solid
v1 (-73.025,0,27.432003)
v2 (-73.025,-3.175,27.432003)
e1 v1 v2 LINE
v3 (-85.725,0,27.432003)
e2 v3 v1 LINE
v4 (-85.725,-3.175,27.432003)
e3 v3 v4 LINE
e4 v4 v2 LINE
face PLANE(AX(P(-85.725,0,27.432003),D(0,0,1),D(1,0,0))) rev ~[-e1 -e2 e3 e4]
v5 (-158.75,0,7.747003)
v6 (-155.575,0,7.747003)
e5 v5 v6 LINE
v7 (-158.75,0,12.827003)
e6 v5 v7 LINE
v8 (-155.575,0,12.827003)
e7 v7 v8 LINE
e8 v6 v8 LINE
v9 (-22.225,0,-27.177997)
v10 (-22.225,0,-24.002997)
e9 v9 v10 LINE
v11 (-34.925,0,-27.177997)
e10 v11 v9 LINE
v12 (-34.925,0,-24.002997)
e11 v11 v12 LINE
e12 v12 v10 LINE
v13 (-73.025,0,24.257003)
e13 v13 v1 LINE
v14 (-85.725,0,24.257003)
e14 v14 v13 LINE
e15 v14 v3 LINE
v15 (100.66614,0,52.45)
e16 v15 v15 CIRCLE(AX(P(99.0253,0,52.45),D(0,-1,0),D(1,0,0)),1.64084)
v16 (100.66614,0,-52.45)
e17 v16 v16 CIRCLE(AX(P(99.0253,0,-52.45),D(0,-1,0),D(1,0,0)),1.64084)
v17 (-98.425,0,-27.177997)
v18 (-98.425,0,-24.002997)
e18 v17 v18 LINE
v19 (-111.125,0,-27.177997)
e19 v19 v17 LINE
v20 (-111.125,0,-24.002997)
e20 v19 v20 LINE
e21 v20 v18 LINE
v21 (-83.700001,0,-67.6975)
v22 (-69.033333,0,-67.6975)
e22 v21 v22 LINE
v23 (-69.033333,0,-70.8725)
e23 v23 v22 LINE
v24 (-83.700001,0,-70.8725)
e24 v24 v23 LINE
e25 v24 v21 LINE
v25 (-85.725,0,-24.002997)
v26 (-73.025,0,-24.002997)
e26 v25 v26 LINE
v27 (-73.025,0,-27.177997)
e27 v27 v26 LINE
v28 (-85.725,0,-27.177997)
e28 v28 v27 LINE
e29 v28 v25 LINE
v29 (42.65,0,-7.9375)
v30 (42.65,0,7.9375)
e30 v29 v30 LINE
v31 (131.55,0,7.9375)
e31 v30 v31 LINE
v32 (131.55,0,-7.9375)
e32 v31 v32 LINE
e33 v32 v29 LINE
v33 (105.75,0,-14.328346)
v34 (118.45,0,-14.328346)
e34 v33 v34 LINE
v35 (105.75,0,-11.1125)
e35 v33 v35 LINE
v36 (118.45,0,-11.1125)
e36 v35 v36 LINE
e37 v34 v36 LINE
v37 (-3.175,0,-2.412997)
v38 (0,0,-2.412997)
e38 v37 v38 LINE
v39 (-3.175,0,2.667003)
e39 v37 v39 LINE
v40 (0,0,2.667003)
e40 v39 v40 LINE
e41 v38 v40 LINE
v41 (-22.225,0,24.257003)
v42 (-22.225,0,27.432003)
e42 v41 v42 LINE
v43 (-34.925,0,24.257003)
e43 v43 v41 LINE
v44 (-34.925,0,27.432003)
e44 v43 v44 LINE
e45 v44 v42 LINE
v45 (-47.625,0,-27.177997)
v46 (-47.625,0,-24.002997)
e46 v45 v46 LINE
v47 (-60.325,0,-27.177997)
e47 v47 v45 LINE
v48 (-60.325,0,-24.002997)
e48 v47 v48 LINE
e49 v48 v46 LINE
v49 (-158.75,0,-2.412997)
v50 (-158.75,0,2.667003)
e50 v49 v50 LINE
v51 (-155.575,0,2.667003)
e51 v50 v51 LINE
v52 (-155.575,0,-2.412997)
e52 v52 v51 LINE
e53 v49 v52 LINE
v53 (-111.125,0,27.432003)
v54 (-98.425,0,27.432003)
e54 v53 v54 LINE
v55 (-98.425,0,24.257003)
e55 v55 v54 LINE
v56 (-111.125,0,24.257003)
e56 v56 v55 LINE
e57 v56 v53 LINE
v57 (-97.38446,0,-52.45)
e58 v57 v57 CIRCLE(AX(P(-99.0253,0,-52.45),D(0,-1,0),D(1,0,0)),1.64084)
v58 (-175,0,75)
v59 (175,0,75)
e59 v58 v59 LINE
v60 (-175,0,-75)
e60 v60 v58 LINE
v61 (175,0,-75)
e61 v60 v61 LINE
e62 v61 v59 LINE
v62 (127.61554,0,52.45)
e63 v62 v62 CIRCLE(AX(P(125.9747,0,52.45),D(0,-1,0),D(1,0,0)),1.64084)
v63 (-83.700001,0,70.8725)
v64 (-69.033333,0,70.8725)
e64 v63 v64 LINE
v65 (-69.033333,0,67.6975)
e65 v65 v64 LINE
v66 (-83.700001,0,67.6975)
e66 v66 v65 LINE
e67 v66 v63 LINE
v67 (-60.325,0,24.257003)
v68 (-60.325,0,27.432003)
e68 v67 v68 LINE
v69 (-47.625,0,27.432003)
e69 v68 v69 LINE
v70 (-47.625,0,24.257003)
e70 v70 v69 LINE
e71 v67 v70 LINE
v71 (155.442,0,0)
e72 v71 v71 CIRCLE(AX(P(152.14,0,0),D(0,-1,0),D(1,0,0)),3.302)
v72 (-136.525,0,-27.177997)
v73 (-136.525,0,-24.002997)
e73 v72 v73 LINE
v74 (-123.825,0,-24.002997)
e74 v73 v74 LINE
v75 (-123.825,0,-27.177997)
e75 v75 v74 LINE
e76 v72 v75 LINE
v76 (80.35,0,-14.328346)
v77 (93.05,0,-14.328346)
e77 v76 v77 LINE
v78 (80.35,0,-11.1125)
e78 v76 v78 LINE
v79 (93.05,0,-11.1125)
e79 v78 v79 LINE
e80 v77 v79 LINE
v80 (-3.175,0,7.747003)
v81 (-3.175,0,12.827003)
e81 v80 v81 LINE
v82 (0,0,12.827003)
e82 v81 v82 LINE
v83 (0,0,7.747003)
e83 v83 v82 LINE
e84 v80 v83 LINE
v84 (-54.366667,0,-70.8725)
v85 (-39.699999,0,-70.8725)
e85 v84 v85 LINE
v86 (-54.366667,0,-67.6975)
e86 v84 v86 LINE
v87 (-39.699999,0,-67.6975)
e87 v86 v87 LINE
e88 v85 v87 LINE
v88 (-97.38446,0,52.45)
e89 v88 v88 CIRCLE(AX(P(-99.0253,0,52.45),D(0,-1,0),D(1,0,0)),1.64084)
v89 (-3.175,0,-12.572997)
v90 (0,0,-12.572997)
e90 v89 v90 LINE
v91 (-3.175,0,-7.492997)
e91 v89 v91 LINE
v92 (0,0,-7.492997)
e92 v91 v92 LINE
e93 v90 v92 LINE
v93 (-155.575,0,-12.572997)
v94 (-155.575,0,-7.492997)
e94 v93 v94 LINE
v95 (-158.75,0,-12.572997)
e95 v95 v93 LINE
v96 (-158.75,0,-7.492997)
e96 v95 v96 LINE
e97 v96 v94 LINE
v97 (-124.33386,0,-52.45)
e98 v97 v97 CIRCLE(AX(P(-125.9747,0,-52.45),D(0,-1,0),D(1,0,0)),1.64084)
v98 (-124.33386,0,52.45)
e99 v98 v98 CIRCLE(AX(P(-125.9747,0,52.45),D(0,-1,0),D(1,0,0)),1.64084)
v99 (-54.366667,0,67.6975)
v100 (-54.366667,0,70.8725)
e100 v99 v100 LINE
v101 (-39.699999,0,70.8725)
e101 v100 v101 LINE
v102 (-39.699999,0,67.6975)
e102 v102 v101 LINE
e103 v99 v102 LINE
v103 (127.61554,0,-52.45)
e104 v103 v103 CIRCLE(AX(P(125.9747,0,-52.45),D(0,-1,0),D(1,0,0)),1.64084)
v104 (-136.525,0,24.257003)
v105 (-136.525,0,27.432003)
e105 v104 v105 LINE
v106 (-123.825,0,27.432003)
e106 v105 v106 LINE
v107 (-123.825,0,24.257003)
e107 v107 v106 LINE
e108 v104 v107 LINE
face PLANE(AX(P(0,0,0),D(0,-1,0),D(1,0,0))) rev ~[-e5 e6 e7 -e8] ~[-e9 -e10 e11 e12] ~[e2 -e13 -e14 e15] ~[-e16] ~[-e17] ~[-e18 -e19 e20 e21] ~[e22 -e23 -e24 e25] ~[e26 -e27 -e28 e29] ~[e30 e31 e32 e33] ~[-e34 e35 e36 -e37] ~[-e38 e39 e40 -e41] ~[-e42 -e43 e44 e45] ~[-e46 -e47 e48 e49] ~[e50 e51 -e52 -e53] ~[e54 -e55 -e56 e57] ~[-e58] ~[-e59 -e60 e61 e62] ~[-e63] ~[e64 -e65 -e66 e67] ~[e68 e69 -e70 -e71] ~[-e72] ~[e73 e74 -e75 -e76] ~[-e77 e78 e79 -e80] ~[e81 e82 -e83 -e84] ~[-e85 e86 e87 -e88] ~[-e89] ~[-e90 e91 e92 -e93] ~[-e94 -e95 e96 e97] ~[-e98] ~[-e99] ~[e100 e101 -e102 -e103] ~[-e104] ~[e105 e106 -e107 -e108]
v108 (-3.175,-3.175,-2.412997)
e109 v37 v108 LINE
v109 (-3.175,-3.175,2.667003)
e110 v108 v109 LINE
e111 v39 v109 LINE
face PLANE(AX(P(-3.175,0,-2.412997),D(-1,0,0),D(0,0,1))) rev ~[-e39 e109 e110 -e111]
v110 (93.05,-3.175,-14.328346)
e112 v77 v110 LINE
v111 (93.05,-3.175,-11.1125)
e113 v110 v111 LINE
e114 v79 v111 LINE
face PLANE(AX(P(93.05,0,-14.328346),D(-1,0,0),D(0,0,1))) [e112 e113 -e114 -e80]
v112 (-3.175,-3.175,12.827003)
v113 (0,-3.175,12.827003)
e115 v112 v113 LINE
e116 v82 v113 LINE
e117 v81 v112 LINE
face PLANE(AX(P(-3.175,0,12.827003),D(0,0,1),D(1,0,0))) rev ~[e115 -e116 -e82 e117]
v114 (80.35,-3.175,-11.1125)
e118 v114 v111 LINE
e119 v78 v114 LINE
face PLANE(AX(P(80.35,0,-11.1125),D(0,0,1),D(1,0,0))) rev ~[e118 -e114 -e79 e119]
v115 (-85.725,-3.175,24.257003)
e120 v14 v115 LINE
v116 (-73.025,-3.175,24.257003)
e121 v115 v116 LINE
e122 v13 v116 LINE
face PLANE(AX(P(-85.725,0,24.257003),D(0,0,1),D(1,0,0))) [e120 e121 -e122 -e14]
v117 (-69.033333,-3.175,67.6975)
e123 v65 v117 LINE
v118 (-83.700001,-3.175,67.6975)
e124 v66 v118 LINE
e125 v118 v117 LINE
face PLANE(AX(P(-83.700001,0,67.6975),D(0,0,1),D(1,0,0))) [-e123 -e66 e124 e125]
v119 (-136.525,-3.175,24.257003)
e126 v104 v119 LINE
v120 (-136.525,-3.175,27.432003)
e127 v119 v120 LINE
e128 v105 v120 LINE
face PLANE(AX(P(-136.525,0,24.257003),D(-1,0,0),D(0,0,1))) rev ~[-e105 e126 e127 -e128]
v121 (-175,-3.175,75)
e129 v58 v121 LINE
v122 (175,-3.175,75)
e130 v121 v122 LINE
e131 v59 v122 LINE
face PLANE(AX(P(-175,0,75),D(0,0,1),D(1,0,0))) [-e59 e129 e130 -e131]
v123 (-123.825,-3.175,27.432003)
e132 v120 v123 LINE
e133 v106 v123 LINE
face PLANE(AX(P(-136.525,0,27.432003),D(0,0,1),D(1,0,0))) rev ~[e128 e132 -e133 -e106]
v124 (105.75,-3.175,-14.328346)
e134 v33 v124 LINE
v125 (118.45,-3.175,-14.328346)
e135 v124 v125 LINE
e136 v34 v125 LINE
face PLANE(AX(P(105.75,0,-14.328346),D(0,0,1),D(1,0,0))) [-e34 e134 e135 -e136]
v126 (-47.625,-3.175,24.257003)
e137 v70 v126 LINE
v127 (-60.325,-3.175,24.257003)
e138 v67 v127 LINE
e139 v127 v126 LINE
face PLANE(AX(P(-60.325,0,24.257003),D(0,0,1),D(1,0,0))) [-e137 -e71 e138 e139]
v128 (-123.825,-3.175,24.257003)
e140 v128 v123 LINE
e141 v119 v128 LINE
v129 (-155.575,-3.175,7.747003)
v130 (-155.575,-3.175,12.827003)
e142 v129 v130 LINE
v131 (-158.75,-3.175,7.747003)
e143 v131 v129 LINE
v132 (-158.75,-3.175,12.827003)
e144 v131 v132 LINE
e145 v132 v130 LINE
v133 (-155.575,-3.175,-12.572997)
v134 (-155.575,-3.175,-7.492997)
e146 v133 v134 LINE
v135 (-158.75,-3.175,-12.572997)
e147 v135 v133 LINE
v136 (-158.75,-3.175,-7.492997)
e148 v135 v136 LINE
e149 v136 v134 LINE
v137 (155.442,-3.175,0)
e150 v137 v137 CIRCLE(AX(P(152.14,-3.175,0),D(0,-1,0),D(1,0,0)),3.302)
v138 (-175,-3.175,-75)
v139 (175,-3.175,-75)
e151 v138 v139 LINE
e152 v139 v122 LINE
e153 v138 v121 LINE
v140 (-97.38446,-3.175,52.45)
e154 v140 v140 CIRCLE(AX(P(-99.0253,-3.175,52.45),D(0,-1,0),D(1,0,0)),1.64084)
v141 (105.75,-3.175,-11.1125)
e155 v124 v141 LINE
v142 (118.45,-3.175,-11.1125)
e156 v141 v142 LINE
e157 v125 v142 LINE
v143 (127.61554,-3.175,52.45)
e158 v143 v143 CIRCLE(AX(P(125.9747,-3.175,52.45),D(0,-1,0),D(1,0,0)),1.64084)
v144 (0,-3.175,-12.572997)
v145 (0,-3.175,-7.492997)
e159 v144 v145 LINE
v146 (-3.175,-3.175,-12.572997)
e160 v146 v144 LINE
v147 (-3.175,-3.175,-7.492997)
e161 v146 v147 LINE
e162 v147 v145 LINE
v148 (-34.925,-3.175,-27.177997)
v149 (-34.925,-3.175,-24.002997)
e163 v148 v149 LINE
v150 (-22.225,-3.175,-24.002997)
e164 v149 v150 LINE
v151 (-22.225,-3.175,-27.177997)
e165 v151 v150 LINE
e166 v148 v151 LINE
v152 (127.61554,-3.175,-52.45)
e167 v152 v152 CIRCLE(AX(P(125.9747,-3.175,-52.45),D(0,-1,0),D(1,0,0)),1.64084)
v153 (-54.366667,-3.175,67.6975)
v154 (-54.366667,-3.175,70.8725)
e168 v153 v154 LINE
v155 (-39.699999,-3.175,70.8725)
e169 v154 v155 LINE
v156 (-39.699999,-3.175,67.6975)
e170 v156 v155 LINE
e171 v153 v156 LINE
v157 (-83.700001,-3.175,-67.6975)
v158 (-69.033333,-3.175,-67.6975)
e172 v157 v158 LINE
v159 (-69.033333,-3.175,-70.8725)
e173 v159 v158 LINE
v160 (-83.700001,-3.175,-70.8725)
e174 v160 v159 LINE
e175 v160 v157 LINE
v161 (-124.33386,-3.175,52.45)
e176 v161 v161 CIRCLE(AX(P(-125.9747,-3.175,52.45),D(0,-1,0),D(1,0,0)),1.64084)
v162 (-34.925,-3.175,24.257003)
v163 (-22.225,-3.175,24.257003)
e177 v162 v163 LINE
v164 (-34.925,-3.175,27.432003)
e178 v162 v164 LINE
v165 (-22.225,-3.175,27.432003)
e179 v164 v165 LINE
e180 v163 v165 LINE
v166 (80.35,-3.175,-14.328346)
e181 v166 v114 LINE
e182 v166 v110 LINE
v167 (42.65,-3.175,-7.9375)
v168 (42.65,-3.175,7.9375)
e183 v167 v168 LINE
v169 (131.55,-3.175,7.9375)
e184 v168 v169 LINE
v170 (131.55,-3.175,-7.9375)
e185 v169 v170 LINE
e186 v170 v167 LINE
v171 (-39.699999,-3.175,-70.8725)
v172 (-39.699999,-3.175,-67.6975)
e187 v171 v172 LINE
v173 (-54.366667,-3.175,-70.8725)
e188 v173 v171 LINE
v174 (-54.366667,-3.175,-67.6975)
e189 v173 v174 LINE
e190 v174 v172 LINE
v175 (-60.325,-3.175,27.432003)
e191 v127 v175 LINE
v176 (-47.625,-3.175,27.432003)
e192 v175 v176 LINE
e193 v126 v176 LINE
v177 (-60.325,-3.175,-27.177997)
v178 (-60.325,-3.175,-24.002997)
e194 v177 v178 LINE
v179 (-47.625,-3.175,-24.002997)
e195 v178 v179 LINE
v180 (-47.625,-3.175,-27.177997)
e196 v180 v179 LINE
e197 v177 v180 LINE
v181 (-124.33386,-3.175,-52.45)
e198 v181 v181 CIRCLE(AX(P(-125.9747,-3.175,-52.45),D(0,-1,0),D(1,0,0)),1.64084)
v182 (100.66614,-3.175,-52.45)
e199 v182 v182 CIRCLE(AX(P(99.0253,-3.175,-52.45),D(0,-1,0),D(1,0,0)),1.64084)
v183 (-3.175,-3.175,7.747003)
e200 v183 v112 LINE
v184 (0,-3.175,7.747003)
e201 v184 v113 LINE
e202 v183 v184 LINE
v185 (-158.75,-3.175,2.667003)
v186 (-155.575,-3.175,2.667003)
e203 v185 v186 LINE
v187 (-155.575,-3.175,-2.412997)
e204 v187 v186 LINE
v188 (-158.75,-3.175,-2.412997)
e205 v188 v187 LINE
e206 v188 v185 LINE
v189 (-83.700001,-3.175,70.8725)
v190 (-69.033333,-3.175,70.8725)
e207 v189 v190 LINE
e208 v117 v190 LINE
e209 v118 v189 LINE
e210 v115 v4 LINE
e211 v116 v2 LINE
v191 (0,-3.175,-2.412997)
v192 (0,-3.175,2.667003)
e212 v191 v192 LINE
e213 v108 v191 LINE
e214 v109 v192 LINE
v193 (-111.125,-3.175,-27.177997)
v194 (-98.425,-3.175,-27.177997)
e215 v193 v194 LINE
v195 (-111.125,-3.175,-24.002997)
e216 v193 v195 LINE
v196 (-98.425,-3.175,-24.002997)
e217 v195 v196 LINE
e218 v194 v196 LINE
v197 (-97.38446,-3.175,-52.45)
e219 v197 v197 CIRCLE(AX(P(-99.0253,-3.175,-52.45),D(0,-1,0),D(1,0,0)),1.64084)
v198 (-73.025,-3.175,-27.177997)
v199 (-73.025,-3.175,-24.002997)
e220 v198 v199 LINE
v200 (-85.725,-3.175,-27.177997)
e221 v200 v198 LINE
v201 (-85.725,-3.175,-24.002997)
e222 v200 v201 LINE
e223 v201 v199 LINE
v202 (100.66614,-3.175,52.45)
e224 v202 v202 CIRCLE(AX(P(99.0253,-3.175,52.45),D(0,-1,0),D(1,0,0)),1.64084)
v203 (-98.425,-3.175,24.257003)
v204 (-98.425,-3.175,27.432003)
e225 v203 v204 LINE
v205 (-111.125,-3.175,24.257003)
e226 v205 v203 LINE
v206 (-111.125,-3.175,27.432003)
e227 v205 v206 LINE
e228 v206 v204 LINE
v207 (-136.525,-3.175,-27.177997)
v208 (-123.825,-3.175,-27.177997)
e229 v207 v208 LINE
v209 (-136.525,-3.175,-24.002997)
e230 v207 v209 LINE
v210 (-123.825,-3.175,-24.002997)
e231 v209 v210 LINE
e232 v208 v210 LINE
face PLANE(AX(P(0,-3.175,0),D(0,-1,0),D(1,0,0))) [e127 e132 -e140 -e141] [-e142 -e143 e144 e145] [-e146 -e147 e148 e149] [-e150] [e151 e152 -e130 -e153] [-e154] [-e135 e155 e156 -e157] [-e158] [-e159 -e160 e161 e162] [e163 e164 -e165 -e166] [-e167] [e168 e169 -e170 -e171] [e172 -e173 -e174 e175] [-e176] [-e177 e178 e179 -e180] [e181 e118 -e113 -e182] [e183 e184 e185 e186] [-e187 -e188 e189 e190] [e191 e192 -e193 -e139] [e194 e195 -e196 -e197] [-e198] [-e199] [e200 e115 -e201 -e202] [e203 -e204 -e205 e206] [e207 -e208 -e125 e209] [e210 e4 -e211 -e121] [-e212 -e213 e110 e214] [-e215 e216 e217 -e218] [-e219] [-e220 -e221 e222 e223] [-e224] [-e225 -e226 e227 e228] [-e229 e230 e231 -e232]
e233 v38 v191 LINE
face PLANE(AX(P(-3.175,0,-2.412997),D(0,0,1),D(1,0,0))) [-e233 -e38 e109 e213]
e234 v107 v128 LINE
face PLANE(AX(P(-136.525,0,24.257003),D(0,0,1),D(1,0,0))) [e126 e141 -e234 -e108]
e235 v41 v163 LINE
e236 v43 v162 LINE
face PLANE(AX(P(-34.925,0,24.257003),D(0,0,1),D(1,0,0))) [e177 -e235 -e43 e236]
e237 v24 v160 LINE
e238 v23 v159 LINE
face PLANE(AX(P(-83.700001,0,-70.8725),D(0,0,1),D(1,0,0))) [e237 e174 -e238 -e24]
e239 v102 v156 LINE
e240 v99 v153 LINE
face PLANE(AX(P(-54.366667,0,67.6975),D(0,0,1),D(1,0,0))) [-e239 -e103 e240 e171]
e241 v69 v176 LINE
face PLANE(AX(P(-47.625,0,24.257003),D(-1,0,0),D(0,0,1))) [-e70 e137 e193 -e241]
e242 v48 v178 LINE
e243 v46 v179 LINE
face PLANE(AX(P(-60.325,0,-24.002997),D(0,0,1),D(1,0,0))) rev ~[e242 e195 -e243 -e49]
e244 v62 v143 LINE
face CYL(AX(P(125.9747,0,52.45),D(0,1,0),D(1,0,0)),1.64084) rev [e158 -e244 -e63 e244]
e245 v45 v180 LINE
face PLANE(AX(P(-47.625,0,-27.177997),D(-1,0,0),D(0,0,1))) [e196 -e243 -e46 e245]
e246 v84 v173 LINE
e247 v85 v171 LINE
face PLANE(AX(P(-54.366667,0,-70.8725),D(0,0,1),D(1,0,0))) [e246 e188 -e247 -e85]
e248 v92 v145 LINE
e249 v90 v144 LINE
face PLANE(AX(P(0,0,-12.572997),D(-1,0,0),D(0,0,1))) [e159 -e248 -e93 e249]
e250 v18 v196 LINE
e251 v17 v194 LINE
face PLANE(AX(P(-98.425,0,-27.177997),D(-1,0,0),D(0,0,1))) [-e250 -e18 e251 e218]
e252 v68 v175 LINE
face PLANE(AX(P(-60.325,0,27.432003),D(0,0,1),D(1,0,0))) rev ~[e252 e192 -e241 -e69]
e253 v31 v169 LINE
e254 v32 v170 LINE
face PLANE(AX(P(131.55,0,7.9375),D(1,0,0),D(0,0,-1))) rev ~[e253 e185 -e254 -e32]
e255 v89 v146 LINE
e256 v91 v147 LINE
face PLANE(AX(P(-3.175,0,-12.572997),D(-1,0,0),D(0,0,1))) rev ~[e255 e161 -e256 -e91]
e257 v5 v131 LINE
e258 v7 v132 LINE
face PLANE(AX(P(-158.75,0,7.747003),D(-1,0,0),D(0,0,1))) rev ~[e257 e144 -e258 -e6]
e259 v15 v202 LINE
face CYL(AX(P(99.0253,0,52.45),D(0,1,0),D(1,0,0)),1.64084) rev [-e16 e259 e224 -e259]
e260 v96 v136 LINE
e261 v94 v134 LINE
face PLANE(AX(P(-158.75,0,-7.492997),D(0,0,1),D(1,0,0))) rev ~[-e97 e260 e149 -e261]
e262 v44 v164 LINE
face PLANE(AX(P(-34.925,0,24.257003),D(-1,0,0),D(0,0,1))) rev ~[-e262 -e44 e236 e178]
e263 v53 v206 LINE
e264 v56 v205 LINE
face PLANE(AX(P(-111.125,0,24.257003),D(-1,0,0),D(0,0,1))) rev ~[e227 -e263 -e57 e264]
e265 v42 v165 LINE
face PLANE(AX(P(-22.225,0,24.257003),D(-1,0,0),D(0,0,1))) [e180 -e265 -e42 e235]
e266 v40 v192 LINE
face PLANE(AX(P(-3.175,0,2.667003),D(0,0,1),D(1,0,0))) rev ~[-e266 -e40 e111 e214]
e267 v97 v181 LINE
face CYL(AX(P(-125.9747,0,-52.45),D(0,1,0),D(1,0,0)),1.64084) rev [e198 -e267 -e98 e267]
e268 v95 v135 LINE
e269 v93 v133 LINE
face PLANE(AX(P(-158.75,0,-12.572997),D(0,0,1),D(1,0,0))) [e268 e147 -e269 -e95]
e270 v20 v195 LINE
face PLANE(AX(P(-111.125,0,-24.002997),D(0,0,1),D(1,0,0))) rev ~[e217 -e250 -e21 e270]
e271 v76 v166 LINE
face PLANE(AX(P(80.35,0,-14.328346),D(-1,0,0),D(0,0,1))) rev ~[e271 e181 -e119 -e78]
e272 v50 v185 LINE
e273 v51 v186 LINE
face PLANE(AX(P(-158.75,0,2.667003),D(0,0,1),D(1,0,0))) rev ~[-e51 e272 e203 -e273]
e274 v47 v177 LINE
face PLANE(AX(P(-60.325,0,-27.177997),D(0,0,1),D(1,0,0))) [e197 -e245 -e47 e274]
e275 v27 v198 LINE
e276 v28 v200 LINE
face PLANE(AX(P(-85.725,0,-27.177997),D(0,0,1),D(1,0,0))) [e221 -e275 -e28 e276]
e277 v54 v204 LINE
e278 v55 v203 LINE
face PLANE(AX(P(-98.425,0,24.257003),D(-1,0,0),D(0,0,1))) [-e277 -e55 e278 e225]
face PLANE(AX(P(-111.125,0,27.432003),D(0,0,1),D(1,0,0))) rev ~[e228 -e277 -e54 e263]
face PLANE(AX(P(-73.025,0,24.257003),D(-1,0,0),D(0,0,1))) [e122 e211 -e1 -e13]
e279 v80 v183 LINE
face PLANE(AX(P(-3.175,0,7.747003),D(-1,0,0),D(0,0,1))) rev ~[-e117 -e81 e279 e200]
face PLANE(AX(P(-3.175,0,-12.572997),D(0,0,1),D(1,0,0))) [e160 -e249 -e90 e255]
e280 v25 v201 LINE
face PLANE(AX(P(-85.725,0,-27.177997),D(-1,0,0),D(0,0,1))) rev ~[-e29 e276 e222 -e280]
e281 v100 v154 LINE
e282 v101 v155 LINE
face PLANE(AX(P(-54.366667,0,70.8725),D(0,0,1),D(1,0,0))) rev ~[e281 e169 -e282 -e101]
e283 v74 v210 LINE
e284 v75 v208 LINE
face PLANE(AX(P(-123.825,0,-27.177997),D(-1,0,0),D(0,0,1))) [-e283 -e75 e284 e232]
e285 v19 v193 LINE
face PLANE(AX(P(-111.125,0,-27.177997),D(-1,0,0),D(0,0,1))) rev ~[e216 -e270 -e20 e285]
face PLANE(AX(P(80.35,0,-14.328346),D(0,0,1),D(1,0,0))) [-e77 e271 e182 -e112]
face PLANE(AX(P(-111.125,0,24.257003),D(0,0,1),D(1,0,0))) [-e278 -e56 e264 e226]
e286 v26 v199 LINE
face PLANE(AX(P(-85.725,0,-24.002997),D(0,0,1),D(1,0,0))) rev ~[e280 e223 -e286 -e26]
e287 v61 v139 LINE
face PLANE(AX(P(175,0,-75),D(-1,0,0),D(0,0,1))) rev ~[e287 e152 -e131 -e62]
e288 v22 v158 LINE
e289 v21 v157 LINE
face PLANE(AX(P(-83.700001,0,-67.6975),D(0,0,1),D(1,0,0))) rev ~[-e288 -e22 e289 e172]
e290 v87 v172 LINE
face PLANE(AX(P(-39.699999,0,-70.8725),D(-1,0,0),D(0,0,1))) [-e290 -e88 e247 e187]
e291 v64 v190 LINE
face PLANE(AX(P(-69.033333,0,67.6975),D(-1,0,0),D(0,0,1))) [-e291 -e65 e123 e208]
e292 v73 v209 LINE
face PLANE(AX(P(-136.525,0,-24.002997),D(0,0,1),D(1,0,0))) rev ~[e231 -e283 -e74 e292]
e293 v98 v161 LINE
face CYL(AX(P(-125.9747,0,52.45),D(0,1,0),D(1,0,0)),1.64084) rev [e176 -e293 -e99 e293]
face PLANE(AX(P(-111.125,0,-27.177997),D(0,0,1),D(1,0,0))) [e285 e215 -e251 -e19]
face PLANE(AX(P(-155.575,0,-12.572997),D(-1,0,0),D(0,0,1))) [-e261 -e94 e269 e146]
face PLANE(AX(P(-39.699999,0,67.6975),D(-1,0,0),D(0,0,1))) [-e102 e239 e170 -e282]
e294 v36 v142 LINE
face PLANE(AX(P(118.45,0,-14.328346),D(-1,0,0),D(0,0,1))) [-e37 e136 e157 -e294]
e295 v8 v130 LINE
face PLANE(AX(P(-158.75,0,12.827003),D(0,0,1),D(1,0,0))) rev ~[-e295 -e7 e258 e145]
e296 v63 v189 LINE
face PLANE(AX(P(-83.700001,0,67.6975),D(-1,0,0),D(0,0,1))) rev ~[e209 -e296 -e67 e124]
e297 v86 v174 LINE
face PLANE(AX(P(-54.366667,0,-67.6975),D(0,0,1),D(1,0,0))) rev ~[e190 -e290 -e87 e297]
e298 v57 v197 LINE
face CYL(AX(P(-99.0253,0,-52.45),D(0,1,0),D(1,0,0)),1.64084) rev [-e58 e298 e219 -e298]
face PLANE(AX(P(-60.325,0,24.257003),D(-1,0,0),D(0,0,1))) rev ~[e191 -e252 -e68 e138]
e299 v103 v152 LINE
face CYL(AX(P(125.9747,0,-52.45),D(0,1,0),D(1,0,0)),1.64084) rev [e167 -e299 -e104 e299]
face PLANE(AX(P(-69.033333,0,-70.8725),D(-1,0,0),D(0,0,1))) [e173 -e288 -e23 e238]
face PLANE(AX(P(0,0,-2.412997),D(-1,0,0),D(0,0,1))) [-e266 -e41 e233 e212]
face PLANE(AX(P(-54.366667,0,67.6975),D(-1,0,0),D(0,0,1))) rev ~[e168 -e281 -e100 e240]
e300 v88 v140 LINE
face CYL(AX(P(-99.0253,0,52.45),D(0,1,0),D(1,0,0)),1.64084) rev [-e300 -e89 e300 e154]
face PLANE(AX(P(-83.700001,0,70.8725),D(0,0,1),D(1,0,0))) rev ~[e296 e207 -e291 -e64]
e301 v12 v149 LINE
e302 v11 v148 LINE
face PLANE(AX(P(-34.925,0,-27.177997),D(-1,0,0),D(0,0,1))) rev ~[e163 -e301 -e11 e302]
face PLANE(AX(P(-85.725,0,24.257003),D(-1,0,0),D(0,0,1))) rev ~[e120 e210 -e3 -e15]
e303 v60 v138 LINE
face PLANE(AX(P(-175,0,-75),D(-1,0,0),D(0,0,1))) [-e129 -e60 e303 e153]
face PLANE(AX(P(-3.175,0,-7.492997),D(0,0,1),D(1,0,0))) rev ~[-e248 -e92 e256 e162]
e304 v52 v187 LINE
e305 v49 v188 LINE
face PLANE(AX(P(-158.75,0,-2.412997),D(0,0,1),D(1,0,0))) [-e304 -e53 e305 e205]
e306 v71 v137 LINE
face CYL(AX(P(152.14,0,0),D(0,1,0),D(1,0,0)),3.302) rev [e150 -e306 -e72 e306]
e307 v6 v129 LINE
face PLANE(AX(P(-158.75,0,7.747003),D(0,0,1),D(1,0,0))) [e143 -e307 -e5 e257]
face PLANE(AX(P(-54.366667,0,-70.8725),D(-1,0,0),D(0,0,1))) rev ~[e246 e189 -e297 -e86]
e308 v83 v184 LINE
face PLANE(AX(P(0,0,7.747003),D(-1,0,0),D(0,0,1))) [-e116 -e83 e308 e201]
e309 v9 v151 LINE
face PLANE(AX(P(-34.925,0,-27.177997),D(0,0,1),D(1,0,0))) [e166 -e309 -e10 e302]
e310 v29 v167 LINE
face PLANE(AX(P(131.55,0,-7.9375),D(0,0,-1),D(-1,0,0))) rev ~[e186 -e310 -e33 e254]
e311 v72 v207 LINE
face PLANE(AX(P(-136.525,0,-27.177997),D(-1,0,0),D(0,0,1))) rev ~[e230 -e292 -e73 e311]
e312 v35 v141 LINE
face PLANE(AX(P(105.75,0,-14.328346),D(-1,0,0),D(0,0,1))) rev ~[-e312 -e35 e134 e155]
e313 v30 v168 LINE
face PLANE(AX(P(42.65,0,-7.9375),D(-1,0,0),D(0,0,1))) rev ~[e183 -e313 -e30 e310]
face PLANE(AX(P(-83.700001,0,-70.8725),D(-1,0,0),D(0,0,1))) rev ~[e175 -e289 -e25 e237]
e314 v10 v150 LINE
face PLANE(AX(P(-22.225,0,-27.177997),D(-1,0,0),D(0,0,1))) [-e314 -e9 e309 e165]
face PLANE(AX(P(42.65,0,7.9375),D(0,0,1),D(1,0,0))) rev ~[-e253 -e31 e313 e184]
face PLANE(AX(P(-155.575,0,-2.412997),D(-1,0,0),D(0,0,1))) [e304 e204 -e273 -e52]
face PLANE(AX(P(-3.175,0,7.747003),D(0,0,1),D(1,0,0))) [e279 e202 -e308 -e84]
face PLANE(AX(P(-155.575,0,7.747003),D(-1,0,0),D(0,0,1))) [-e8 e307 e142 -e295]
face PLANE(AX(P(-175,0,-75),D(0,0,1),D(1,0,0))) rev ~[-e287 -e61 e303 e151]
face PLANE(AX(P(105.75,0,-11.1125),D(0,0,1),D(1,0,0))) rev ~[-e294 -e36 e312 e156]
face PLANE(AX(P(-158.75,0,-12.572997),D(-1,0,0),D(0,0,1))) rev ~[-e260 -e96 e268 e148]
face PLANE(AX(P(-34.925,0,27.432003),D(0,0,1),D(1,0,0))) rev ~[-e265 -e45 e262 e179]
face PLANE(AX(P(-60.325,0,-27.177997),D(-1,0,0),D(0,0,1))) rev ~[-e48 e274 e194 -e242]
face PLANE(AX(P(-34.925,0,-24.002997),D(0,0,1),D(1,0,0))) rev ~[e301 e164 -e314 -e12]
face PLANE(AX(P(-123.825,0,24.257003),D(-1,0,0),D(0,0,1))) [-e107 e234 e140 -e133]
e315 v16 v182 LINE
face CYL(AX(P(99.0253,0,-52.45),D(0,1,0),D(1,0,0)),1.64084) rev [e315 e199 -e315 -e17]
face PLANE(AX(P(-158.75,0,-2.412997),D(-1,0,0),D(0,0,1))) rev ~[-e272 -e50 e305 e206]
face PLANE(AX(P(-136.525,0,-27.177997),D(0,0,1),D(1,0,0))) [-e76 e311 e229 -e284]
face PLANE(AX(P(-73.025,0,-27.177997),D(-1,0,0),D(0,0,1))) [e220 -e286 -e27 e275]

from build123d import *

# Parameters (mm, degrees)
F0_W     = 350
F0_H     = 150
F0_R     = 1.64084
F0_W_2   = 14.666667
F0_H_2   = 3.175
F0_W_3   = 12.7
F0_W_4   = 3.175
F0_H_3   = 5.08
F0_H_4   = 3.215846
F0_R_2   = 3.302
F1_DEPTH = 3.175


with BuildPart() as f1:
    # F0 (on Front) → F1 (new body)
    with BuildSketch(Plane.XZ):
        Rectangle(F0_W, F0_H)
        with Locations((-125.9747, -52.45)):
            Circle(F0_R, mode=Mode.SUBTRACT)
        with Locations((-99.0253, -52.45)):
            Circle(F0_R, mode=Mode.SUBTRACT)
        with Locations((-76.366667, -69.285)):
            Rectangle(F0_W_2, F0_H_2, mode=Mode.SUBTRACT)
        with Locations((-47.033333, -69.285)):
            Rectangle(F0_W_2, F0_H_2, mode=Mode.SUBTRACT)
        with Locations((-130.175, -25.590497)):
            Rectangle(F0_W_3, F0_H_2, mode=Mode.SUBTRACT)
        with Locations((-104.775, -25.590497)):
            Rectangle(F0_W_3, F0_H_2, mode=Mode.SUBTRACT)
        with Locations((-157.1625, -10.032997)):
            Rectangle(F0_W_4, F0_H_3, mode=Mode.SUBTRACT)
        with Locations((-79.375, -25.590497)):
            Rectangle(F0_W_3, F0_H_2, mode=Mode.SUBTRACT)
        with Locations((-53.975, -25.590497)):
            Rectangle(F0_W_3, F0_H_2, mode=Mode.SUBTRACT)
        with Locations((-28.575, -25.590497)):
            Rectangle(F0_W_3, F0_H_2, mode=Mode.SUBTRACT)
        with Locations((-1.5875, -10.032997)):
            Rectangle(F0_W_4, F0_H_3, mode=Mode.SUBTRACT)
        with Locations((99.0253, -52.45)):
            Circle(F0_R, mode=Mode.SUBTRACT)
        with Locations((125.9747, -52.45)):
            Circle(F0_R, mode=Mode.SUBTRACT)
        with Locations((86.7, -12.720423)):
            Rectangle(F0_W_3, F0_H_4, mode=Mode.SUBTRACT)
        with Locations((112.1, -12.720423)):
            Rectangle(F0_W_3, F0_H_4, mode=Mode.SUBTRACT)
        with Locations((-157.1625, 0.127003)):
            Rectangle(F0_W_4, F0_H_3, mode=Mode.SUBTRACT)
        with Locations((-157.1625, 10.287003)):
            Rectangle(F0_W_4, F0_H_3, mode=Mode.SUBTRACT)
        with Locations((-130.175, 25.844503)):
            Rectangle(F0_W_3, F0_H_2, mode=Mode.SUBTRACT)
        with Locations((-104.775, 25.844503)):
            Rectangle(F0_W_3, F0_H_2, mode=Mode.SUBTRACT)
        with Locations((-1.5875, 0.127003)):
            Rectangle(F0_W_4, F0_H_3, mode=Mode.SUBTRACT)
        with Locations((-1.5875, 10.287003)):
            Rectangle(F0_W_4, F0_H_3, mode=Mode.SUBTRACT)
        with Locations((-79.375, 25.844503)):
            Rectangle(F0_W_3, F0_H_2, mode=Mode.SUBTRACT)
        with Locations((-53.975, 25.844503)):
            Rectangle(F0_W_3, F0_H_2, mode=Mode.SUBTRACT)
        with Locations((-28.575, 25.844503)):
            Rectangle(F0_W_3, F0_H_2, mode=Mode.SUBTRACT)
        with Locations((-125.9747, 52.45)):
            Circle(F0_R, mode=Mode.SUBTRACT)
        with Locations((-99.0253, 52.45)):
            Circle(F0_R, mode=Mode.SUBTRACT)
        with Locations((-76.366667, 69.285)):
            Rectangle(F0_W_2, F0_H_2, mode=Mode.SUBTRACT)
        with Locations((-47.033333, 69.285)):
            Rectangle(F0_W_2, F0_H_2, mode=Mode.SUBTRACT)
        Polygon((131.55, 7.9375), (131.55, -7.9375), (93.45, -7.9375), (55.35, -7.9375), (42.65, -7.9375), (42.65, 7.9375), (55.35, 7.9375), (93.45, 7.9375), align=None, mode=Mode.SUBTRACT)
        with Locations((152.14, 0)):
            Circle(F0_R_2, mode=Mode.SUBTRACT)
        with Locations((99.0253, 52.45)):
            Circle(F0_R, mode=Mode.SUBTRACT)
        with Locations((125.9747, 52.45)):
            Circle(F0_R, mode=Mode.SUBTRACT)
    extrude(amount=F1_DEPTH)


solid = f1.part
